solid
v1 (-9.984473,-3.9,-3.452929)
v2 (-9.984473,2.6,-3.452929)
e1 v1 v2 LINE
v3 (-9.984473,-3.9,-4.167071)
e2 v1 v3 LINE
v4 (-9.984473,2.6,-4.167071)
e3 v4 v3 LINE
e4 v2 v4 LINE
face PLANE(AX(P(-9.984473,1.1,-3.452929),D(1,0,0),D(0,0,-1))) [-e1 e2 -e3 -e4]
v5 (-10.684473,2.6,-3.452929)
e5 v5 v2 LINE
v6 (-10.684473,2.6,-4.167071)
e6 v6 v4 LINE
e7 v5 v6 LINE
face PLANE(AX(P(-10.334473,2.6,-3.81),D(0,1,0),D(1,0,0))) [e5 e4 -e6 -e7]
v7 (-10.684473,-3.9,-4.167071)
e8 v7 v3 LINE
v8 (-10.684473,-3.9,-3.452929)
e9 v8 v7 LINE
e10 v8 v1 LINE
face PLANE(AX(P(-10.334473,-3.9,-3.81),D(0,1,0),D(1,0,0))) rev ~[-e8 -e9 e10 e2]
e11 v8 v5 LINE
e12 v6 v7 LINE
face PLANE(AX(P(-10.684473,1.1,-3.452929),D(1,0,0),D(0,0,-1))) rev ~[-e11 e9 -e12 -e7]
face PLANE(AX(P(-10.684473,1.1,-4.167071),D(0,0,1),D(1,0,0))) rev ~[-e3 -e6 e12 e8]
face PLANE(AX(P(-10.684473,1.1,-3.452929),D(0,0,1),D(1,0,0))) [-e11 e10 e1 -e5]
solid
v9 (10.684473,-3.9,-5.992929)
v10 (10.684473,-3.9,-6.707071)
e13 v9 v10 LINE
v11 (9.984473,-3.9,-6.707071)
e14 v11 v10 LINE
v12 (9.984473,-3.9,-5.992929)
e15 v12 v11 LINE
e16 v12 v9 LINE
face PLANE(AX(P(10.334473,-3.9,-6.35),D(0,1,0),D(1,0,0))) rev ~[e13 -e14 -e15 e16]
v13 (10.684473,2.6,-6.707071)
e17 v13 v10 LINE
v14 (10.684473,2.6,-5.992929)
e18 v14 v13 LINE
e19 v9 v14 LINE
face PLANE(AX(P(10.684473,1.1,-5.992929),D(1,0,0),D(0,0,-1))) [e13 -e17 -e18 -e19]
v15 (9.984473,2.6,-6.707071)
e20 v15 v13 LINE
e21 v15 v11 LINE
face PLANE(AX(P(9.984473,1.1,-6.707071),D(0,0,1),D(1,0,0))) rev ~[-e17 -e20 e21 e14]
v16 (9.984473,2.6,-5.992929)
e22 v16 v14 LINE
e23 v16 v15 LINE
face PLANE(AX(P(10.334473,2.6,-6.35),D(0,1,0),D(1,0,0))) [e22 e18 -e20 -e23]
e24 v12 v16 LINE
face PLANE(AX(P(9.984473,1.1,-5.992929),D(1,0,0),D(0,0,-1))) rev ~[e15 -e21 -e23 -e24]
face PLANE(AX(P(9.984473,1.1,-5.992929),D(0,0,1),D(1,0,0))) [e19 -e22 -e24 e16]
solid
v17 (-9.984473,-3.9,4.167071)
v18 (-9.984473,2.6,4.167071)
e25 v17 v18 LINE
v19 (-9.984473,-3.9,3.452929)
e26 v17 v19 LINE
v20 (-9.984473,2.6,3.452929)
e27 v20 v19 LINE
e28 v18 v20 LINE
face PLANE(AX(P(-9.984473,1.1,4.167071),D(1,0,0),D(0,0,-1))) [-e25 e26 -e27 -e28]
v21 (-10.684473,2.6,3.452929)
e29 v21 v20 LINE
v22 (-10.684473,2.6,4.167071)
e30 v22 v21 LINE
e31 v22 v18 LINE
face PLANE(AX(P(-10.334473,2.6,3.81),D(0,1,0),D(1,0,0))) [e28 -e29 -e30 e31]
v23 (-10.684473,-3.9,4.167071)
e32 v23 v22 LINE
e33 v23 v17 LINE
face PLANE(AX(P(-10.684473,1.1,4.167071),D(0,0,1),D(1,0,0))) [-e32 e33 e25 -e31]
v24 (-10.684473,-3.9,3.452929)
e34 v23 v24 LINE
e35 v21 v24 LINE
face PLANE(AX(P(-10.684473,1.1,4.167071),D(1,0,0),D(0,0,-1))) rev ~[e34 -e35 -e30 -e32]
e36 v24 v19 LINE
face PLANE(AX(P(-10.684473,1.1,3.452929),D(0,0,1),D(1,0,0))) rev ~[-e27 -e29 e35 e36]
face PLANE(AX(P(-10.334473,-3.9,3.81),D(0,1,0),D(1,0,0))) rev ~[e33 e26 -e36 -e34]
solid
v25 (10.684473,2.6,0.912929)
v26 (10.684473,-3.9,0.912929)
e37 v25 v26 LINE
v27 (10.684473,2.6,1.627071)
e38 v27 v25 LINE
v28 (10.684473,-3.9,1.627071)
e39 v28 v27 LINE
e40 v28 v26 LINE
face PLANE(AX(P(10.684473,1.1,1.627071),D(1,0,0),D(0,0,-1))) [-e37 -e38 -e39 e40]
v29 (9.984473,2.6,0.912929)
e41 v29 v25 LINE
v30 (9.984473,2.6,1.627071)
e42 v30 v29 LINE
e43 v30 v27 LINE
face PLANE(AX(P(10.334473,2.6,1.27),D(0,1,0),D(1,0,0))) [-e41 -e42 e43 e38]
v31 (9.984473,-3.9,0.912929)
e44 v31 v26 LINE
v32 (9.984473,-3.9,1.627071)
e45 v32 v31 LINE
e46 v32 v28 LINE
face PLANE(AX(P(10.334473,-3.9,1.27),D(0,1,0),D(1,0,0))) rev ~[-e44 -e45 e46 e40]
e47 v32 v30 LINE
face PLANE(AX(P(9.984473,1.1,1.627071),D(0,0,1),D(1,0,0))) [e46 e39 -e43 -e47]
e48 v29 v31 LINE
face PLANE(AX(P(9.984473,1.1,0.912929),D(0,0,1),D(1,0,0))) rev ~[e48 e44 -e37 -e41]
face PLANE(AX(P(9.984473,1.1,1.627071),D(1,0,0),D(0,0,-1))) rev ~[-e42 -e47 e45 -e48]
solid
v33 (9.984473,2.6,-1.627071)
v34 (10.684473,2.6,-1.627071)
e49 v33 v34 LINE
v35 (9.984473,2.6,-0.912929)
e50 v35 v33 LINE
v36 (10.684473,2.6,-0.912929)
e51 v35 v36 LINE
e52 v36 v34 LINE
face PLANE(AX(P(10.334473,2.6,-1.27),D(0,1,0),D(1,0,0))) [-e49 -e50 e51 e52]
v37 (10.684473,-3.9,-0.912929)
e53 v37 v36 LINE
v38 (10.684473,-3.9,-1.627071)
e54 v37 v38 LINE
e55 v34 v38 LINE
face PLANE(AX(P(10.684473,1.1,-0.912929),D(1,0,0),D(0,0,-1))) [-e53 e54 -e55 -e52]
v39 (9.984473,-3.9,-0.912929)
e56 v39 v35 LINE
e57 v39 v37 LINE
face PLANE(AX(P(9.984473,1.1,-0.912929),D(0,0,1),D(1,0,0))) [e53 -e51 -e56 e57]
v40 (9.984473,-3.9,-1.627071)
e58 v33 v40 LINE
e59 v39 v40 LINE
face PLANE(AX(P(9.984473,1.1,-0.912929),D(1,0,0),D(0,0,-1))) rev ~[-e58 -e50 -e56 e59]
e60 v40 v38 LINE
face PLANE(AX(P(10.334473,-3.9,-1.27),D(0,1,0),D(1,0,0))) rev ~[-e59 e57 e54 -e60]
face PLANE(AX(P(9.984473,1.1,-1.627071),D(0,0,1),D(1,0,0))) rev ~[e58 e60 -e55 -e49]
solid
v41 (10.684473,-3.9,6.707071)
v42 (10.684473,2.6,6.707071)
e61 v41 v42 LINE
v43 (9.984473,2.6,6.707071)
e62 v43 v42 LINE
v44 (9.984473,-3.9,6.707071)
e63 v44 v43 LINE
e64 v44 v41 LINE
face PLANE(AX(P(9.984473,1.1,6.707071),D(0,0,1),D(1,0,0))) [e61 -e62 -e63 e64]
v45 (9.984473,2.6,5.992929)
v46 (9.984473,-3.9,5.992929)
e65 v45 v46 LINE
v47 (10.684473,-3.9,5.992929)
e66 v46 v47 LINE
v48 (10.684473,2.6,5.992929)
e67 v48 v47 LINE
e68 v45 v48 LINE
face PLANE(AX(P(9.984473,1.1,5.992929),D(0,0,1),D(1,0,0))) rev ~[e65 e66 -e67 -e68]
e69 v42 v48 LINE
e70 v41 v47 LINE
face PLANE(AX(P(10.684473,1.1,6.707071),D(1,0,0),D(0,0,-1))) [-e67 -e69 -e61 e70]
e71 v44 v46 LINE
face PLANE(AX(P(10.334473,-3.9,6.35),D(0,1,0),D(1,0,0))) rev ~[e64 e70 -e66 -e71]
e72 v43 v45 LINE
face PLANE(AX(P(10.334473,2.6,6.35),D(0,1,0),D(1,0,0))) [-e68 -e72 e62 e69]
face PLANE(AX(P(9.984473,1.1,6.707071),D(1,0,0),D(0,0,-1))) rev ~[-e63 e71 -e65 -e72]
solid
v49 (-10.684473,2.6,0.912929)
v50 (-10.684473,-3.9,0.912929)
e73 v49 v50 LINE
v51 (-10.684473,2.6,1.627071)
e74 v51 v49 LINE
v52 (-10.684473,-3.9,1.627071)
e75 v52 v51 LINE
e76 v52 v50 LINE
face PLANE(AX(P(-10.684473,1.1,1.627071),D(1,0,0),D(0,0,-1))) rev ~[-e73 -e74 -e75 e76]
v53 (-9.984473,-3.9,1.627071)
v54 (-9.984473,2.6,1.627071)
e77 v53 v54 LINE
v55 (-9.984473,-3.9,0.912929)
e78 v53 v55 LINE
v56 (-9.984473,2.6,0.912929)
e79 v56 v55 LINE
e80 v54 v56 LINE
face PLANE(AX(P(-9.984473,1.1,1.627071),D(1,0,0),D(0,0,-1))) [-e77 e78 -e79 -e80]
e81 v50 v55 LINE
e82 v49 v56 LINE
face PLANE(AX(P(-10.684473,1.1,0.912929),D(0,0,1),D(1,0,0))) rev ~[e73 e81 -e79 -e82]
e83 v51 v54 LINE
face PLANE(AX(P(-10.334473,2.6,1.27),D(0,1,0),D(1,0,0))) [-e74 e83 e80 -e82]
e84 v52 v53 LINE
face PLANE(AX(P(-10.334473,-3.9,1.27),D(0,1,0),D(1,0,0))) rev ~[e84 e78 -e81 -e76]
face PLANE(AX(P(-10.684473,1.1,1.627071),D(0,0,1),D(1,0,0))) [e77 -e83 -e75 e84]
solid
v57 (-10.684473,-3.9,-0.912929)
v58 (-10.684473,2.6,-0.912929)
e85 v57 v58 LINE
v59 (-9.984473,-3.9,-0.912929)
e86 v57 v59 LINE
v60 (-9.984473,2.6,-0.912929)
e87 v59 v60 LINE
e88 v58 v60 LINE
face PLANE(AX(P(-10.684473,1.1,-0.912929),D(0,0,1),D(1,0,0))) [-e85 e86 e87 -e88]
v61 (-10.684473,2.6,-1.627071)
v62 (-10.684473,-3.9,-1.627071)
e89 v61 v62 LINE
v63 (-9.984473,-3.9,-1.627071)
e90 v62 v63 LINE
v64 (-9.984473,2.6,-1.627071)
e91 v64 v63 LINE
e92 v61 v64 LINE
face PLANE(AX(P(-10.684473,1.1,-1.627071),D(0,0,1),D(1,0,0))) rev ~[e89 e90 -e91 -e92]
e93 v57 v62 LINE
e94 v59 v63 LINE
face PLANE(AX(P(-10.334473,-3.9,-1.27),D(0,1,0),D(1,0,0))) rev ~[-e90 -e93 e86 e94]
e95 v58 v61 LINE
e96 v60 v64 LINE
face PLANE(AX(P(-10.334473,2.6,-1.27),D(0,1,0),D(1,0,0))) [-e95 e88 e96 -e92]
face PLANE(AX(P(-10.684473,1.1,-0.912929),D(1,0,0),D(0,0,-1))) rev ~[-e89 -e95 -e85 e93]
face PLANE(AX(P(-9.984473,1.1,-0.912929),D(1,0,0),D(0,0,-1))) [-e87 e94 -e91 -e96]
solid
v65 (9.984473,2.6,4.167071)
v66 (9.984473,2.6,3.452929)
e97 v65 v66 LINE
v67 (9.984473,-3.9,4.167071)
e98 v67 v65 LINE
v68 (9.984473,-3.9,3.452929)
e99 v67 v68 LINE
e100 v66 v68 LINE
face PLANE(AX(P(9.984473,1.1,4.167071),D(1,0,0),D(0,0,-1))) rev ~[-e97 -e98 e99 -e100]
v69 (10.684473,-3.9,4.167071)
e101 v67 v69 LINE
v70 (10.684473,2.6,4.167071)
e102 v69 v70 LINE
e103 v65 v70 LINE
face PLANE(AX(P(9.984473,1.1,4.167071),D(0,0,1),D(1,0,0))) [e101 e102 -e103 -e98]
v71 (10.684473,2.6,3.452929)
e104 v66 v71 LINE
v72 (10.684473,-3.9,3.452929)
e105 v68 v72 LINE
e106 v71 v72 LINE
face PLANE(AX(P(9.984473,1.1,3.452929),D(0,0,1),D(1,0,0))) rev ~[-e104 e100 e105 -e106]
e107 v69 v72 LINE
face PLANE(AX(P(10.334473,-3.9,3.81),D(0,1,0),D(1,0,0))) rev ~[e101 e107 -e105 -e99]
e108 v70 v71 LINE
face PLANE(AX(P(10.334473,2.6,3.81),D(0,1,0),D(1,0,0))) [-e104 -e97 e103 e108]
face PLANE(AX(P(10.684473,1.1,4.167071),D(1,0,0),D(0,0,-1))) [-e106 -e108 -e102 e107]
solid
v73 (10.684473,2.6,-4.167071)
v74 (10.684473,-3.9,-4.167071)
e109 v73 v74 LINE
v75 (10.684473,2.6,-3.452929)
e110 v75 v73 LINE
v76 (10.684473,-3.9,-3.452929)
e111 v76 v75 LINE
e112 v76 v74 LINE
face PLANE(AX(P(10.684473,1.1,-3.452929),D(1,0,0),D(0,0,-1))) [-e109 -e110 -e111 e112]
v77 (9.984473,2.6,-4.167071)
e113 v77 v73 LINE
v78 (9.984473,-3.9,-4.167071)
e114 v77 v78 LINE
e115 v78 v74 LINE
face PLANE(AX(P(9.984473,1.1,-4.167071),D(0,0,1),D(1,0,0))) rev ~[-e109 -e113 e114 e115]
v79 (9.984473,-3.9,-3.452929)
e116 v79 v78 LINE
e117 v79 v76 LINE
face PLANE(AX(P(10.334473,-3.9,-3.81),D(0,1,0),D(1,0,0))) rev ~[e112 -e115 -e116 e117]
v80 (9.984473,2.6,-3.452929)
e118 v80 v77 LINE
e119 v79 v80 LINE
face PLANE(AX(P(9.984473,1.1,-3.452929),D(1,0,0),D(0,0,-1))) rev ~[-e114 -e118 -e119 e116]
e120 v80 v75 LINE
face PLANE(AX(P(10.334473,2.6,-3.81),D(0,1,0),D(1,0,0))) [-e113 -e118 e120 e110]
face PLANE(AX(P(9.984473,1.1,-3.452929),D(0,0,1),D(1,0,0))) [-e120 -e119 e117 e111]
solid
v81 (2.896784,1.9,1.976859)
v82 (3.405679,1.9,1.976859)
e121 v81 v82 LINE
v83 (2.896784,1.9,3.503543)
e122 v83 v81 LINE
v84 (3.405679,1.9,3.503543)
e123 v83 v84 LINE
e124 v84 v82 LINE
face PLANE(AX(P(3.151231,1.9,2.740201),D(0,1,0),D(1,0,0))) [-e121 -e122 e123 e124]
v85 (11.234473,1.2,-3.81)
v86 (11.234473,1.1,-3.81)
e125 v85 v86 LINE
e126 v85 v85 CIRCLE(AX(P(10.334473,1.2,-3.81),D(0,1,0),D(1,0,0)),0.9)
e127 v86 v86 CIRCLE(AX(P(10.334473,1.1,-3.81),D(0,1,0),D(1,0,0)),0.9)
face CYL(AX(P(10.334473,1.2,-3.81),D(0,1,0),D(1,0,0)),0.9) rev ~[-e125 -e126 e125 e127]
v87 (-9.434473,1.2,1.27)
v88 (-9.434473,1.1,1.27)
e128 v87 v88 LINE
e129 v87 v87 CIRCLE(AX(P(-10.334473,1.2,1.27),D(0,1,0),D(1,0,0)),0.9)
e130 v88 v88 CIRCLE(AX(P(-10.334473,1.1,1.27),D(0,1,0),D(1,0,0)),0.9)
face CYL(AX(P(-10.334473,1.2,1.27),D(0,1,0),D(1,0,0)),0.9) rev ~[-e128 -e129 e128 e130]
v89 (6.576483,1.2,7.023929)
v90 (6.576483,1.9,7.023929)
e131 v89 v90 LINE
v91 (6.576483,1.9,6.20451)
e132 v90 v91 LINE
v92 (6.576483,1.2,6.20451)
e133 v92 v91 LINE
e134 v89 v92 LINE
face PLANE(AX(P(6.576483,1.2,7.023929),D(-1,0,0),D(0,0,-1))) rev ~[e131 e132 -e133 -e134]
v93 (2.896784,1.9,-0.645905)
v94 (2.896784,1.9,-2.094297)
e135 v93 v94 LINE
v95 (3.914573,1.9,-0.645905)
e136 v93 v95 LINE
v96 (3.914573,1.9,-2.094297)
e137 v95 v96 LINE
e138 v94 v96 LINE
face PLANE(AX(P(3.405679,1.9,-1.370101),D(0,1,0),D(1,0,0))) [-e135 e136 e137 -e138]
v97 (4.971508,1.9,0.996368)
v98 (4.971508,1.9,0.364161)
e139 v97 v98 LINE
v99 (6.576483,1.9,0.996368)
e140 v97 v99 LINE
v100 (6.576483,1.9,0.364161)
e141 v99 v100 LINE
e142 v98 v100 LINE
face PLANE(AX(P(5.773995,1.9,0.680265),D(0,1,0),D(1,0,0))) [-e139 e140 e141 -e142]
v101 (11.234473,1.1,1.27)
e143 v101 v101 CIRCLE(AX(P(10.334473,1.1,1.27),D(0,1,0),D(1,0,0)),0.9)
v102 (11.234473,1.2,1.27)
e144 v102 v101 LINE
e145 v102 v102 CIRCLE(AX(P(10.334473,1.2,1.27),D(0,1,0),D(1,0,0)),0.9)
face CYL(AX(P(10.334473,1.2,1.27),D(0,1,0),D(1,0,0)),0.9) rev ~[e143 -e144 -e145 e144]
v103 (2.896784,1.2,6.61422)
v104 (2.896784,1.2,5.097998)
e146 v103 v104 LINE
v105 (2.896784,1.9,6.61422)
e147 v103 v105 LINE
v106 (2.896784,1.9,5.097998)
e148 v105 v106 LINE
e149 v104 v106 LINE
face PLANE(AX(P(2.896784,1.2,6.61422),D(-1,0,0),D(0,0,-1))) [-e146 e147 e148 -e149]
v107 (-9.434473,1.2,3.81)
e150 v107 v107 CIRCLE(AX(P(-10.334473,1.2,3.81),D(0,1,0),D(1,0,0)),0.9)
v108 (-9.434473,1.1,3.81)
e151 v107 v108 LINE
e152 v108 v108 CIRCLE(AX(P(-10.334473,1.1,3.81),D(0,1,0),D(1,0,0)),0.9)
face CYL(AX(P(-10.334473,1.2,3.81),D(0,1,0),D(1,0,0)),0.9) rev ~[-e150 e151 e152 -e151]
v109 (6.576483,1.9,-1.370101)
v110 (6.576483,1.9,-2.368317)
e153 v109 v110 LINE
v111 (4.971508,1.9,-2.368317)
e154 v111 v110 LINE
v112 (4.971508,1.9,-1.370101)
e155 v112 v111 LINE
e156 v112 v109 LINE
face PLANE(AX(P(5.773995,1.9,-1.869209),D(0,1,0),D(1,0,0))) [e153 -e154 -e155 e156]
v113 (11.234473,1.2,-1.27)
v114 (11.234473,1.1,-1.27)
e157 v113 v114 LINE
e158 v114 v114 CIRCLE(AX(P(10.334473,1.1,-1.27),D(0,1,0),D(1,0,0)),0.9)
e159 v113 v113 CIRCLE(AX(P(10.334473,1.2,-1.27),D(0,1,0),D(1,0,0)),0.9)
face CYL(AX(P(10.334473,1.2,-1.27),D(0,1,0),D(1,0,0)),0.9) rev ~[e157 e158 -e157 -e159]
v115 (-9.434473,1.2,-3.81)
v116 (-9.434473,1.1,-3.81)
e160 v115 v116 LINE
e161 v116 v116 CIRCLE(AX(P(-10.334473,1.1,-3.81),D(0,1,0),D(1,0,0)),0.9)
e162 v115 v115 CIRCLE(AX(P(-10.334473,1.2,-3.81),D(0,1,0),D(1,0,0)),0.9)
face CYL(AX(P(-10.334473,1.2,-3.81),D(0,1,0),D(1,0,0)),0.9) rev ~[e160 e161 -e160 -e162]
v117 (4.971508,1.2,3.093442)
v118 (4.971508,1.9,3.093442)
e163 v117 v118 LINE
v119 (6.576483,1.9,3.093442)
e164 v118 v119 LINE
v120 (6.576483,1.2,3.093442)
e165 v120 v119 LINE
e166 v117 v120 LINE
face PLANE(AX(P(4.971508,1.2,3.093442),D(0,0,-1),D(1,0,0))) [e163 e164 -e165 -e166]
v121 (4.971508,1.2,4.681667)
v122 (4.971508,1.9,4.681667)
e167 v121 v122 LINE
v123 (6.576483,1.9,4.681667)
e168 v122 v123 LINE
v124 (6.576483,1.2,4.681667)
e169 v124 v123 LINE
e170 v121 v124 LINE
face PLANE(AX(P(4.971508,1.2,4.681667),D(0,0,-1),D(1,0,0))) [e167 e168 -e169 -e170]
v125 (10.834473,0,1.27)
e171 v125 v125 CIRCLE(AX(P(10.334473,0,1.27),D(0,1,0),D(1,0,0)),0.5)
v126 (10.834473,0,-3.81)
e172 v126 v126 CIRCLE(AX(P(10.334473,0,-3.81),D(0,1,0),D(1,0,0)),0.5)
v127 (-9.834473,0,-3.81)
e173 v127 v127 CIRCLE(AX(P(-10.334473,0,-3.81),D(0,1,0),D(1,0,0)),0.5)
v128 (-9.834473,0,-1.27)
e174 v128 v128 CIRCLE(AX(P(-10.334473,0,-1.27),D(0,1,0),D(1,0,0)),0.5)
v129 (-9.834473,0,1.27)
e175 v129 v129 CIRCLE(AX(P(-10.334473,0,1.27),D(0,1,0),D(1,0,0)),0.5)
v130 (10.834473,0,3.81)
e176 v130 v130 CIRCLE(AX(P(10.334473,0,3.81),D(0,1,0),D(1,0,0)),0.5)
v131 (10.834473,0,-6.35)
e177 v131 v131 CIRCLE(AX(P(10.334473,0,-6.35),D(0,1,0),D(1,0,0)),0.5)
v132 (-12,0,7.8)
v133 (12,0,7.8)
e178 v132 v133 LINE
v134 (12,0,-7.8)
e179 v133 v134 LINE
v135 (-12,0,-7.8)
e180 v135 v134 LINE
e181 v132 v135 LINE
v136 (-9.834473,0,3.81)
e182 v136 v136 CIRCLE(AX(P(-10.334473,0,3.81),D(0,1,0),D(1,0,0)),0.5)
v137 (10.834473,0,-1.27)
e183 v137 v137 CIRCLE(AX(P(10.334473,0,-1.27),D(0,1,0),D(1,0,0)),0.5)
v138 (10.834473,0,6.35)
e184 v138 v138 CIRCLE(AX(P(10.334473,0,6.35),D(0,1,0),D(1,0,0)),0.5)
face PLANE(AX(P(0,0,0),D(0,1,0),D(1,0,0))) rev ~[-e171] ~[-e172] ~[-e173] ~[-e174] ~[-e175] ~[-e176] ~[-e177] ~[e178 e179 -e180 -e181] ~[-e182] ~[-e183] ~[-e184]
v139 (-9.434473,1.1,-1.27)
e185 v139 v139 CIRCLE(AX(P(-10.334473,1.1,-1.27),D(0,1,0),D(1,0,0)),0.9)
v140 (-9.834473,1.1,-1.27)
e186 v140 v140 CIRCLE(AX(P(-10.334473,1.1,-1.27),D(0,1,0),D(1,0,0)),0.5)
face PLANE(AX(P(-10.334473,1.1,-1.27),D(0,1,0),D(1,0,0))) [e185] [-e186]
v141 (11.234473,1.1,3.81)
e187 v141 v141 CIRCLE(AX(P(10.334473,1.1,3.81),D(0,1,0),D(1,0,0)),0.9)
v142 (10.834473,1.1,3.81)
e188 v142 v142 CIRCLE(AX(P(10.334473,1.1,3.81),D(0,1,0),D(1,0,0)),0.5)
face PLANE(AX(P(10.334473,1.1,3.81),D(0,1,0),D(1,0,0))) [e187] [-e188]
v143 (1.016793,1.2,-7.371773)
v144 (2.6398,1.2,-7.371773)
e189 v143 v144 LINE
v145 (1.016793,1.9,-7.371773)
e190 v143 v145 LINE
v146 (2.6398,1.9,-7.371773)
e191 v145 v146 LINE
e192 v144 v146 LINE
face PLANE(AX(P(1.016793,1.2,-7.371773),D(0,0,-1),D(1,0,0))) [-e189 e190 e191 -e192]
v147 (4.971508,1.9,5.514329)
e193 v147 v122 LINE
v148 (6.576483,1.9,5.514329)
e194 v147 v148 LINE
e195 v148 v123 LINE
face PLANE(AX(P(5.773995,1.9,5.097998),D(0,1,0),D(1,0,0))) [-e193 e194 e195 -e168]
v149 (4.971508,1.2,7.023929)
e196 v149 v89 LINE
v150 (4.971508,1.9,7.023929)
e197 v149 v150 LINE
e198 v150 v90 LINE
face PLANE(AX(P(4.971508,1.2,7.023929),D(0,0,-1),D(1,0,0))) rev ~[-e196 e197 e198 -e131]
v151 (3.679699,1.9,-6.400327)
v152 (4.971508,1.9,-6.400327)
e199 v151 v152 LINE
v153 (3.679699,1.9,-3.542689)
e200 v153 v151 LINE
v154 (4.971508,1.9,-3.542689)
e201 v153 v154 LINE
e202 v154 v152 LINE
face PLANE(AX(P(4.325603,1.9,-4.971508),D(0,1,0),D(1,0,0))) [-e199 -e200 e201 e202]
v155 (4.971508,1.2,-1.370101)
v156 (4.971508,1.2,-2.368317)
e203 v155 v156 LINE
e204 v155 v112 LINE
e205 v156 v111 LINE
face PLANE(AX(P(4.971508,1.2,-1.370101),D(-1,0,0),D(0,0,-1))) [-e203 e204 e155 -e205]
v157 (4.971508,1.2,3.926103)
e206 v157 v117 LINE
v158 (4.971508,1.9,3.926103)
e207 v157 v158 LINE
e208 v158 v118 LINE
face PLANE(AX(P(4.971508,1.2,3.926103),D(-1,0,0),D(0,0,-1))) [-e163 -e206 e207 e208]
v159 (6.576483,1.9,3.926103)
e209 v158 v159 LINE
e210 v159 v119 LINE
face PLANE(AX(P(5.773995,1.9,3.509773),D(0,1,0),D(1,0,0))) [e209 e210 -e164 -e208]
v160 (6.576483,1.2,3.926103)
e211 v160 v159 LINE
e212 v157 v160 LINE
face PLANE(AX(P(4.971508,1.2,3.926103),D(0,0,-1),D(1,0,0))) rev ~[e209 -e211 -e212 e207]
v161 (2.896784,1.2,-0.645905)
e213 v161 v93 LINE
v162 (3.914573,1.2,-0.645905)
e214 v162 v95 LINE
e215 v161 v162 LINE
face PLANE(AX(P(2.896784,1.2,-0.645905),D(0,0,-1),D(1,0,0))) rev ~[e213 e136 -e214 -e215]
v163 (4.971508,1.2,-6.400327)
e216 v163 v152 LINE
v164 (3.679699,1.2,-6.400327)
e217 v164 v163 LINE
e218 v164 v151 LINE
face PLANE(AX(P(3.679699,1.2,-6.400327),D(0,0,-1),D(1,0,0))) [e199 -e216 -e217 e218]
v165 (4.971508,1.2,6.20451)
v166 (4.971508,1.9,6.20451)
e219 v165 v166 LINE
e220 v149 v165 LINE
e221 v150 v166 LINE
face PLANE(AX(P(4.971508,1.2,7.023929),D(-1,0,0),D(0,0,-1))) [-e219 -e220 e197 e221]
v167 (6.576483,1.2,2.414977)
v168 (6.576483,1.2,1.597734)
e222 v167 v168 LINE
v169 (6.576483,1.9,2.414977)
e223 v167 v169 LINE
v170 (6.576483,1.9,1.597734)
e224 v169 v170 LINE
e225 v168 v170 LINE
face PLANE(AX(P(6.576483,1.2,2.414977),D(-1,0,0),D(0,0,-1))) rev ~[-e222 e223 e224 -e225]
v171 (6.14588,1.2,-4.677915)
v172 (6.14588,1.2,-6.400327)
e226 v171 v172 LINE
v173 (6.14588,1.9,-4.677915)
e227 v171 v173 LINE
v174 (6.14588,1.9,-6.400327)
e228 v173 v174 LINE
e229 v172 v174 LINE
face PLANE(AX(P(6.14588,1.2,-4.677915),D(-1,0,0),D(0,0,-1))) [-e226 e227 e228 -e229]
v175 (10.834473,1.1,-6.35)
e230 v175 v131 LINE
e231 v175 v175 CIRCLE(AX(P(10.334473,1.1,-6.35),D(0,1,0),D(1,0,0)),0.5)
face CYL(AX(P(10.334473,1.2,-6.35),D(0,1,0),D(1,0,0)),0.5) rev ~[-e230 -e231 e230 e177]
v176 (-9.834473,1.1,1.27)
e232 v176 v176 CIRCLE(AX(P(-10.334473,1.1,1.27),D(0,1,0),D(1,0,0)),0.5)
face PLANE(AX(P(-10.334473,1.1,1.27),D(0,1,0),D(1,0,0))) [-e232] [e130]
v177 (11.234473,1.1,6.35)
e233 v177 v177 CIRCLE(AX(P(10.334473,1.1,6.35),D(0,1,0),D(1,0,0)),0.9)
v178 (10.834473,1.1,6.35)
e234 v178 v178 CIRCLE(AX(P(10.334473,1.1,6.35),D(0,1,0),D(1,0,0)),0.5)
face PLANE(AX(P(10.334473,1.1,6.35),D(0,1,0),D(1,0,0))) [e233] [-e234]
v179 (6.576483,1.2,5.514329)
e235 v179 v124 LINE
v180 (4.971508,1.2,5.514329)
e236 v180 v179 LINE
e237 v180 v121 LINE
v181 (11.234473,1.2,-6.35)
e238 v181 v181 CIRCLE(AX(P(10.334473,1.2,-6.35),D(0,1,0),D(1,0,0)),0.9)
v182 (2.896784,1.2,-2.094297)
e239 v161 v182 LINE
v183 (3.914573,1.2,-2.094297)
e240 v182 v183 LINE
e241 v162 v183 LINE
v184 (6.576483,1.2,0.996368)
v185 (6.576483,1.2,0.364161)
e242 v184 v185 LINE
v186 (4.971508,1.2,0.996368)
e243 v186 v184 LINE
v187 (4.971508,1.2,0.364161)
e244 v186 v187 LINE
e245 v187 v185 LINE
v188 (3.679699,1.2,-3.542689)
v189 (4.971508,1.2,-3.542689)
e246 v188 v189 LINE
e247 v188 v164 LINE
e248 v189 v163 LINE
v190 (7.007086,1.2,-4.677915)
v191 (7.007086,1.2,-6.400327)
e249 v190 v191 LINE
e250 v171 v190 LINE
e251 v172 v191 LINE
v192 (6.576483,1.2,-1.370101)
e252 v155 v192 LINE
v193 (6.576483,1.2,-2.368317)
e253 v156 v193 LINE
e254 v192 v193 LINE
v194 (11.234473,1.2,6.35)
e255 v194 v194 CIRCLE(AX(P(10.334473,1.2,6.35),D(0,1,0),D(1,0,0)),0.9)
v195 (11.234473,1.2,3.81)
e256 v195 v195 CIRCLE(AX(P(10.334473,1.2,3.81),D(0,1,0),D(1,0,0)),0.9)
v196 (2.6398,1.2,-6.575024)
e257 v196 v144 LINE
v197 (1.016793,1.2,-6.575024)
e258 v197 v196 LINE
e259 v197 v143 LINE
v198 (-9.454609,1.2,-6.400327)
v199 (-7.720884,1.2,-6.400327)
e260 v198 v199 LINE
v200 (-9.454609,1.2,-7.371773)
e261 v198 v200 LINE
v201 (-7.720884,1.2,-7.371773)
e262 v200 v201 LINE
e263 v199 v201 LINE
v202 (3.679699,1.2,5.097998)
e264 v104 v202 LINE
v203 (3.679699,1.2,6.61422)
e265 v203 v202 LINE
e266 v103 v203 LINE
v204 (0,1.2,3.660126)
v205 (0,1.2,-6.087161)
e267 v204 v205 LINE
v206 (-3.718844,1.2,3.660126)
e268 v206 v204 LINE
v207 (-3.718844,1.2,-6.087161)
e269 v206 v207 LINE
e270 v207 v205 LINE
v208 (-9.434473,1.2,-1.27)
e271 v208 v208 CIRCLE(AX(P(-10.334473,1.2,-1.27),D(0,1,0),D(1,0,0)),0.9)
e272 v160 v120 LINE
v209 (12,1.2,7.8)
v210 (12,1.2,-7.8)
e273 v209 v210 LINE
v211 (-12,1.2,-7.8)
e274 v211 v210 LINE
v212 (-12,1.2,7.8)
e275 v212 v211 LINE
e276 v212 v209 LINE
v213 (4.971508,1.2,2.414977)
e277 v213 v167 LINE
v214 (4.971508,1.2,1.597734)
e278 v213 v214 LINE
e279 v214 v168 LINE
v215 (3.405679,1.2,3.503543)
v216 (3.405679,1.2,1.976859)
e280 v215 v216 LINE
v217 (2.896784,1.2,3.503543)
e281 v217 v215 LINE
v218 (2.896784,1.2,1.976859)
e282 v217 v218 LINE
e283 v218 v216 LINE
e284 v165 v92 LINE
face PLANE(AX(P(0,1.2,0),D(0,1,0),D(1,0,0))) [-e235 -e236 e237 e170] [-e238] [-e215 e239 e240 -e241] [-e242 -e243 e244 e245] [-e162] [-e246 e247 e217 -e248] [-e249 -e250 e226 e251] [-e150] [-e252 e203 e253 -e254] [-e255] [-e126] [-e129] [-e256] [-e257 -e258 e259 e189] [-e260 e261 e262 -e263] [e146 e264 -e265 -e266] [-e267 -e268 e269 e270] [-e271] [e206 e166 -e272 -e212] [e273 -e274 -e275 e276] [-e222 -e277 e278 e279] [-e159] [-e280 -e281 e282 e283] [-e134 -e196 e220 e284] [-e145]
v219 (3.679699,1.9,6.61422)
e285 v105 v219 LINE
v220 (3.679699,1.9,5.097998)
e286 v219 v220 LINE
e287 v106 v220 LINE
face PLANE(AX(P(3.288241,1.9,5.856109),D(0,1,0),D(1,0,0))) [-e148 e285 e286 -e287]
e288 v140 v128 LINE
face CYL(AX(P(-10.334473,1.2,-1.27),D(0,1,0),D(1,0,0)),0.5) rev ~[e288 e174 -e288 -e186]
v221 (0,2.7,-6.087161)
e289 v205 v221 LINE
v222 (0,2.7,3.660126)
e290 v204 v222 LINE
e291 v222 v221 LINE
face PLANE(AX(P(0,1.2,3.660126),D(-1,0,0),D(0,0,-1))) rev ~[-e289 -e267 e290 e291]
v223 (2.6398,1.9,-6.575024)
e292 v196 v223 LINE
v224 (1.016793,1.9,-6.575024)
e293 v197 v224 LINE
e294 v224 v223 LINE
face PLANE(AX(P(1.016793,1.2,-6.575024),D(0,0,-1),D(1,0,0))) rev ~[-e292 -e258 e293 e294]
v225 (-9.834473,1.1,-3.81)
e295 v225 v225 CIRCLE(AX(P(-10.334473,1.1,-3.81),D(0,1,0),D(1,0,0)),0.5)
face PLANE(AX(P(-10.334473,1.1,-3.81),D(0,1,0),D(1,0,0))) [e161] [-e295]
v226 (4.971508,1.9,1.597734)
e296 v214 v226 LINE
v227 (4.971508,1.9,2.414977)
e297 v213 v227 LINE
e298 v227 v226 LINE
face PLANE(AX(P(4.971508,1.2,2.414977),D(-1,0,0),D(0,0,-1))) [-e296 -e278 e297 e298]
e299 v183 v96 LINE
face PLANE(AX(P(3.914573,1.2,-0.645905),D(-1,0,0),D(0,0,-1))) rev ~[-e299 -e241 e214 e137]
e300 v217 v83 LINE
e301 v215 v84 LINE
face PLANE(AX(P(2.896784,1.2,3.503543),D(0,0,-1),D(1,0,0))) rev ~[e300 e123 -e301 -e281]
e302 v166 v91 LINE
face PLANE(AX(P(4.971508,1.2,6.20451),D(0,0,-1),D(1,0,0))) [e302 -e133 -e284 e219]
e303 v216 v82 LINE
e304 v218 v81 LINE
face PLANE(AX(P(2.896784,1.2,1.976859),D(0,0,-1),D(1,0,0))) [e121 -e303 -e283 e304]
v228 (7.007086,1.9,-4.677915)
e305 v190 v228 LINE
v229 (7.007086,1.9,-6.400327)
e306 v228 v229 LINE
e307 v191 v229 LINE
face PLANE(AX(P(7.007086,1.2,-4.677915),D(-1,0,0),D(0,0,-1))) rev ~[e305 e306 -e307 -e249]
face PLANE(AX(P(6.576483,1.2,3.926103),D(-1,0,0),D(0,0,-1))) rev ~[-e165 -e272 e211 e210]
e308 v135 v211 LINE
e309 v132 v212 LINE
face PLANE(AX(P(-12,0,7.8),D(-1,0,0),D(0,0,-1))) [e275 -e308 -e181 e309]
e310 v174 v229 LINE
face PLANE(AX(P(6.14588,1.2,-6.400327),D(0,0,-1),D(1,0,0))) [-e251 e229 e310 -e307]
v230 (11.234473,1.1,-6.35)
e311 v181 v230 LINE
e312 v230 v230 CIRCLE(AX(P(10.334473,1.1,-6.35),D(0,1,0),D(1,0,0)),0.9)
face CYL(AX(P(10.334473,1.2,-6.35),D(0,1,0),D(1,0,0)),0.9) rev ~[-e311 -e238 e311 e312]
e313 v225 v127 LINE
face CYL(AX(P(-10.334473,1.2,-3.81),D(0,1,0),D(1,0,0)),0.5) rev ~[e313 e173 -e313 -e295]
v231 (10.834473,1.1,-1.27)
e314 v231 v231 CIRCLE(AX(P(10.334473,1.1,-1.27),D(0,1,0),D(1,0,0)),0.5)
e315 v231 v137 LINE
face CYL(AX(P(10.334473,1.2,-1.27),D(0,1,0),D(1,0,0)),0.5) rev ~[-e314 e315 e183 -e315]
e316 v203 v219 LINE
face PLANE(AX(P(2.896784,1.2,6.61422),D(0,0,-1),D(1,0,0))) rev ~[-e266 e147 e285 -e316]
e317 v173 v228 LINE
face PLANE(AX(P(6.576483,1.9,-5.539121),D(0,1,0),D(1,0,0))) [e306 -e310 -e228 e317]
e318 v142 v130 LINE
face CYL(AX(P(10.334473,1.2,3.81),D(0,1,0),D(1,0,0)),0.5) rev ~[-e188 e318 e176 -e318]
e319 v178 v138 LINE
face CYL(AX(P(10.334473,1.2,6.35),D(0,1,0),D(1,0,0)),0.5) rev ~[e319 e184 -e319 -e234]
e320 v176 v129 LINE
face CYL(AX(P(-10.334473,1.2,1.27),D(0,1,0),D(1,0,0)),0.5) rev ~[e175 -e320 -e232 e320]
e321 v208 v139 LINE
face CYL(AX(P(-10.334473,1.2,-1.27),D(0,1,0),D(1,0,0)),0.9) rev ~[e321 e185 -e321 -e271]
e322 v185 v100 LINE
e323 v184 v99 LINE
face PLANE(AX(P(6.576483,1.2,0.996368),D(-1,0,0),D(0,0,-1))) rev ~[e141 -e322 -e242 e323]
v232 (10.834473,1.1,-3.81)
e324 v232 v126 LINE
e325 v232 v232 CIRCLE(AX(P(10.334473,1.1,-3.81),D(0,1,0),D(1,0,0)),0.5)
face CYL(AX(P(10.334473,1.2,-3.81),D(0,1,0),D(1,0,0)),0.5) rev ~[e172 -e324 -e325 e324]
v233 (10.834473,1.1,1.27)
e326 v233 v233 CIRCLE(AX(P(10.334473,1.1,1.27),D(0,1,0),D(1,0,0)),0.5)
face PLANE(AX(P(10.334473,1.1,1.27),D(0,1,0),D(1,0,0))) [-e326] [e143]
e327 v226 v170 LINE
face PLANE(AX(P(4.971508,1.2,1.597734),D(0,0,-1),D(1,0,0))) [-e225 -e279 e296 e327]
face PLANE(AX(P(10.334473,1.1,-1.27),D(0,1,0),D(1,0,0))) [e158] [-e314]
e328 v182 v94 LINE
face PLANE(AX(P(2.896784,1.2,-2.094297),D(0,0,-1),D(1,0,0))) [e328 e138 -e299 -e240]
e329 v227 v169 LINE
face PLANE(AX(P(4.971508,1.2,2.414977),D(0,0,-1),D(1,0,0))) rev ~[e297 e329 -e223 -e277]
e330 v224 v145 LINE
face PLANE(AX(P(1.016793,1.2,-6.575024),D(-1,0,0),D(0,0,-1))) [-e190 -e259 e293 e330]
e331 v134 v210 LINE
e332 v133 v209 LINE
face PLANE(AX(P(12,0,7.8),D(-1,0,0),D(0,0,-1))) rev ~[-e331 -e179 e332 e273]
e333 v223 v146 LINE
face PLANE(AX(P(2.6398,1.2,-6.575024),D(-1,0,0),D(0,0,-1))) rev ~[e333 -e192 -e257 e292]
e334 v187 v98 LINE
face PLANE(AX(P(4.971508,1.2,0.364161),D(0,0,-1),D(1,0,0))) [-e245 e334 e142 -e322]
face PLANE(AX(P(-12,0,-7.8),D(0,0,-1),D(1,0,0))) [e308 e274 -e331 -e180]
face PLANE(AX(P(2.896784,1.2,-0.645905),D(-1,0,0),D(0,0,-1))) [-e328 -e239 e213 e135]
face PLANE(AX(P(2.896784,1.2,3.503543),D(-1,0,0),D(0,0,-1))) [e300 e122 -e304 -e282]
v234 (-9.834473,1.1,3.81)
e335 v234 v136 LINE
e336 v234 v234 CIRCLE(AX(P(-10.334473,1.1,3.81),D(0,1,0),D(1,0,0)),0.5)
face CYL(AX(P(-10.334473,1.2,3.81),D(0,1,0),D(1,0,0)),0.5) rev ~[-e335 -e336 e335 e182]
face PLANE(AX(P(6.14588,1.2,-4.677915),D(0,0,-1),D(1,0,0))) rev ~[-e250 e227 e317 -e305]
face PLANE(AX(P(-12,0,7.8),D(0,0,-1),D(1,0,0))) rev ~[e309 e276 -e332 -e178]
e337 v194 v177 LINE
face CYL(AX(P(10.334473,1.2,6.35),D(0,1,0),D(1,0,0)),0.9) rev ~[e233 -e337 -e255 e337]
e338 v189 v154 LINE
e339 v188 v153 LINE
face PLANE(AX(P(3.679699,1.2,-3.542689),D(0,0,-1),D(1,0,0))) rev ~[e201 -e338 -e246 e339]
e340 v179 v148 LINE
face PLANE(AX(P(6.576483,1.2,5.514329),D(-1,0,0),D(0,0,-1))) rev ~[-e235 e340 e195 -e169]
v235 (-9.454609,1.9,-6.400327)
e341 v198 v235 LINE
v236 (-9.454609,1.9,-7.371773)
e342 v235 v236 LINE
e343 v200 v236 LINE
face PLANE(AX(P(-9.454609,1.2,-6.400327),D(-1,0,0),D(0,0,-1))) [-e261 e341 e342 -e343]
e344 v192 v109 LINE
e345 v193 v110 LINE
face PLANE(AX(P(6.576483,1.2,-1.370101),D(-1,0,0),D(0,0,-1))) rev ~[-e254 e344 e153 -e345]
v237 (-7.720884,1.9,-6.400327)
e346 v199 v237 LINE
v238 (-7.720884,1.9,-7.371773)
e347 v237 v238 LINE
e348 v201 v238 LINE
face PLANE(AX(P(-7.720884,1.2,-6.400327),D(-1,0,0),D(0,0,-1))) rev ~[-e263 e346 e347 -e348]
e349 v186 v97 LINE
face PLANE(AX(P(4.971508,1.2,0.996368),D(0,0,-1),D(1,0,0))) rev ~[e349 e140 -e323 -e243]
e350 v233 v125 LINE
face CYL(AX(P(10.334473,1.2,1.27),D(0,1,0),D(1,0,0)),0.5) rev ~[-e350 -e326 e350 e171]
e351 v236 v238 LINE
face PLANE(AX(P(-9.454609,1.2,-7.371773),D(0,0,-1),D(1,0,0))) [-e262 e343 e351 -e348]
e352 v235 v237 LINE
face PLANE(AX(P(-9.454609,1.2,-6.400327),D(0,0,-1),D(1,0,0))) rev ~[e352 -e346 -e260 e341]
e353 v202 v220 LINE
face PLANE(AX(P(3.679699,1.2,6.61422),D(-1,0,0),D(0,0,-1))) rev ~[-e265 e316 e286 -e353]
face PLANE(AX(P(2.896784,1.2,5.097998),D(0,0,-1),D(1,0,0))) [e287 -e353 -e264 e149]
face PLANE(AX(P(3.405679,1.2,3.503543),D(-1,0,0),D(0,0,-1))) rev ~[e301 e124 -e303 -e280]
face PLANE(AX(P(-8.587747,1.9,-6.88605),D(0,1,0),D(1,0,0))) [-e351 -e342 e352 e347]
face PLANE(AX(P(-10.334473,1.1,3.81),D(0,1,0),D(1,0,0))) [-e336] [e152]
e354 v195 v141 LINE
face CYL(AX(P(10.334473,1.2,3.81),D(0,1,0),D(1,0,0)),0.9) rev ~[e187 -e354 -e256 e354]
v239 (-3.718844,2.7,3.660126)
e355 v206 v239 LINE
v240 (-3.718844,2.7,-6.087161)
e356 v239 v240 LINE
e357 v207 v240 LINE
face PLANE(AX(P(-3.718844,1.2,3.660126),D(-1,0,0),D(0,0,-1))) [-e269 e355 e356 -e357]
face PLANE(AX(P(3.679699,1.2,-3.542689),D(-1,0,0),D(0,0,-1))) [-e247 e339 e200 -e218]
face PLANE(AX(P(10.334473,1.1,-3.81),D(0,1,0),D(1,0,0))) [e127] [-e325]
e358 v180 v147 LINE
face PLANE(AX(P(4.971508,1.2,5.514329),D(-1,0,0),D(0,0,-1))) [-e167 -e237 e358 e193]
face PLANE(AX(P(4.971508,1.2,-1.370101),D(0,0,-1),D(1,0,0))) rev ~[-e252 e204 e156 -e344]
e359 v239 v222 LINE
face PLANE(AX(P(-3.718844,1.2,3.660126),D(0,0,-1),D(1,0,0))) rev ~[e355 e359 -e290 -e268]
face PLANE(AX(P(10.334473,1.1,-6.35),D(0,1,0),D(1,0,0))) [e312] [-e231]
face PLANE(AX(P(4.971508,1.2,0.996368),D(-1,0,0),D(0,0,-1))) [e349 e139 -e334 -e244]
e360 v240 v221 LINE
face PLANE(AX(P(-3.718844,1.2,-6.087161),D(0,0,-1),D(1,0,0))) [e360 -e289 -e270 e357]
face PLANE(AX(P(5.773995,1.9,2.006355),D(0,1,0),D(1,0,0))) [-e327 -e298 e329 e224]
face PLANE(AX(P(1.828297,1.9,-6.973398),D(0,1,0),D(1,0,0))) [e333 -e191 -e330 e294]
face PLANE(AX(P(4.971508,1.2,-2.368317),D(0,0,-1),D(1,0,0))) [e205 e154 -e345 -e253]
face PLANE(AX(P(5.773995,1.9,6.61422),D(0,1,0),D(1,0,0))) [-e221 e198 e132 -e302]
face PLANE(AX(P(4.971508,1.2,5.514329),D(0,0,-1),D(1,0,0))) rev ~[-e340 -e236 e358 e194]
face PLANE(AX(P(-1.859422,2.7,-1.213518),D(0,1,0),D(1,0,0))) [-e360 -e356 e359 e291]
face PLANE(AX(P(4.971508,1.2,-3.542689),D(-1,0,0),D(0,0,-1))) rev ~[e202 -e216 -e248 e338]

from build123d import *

# Parameters (mm, degrees)
SKETCH1_W                   = 24
SKETCH1_H                   = 15.6
BOSS_EXTRUDE1_DEPTH         = 1.2
SKETCH3_W                   = 3.718844476
SKETCH3_H                   = 9.7472871
BOSS_EXTRUDE2_DEPTH         = 1.5
SKETCH4_W                   = 1.291809133
SKETCH4_H                   = 2.857638387
SKETCH4_W_2                 = 0.861206089
SKETCH4_H_2                 = 1.722412179
SKETCH4_W_3                 = 1.017789015
SKETCH4_H_3                 = 1.448392059
SKETCH4_W_4                 = 1.604974985
SKETCH4_H_4                 = 0.998216149
SKETCH4_W_5                 = 0.508894507
SKETCH4_H_5                 = 1.526683522
SKETCH4_H_6                 = 0.632206169
SKETCH4_H_7                 = 0.817242122
SKETCH4_H_8                 = 0.832661784
SKETCH4_H_9                 = 0.819418919
SKETCH4_W_6                 = 0.782914627
SKETCH4_H_10                = 1.516221838
SKETCH4_W_7                 = 1.623006581
SKETCH4_H_11                = 0.796748686
SKETCH4_W_8                 = 1.733725138
SKETCH4_H_12                = 0.971445752
BOSS_EXTRUDE3_DEPTH         = 0.7
SKETCH5_R                   = 0.5
CUT_EXTRUDE1_DEPTH          = 2.2
SKETCH6_R                   = 0.9
CUT_EXTRUDE2_DEPTH          = 0.1
SKETCH7_R                   = 0.9
CUT_EXTRUDE3_DEPTH          = 0.1
SKETCH8_W                   = 0.7
SKETCH8_H                   = 0.714142842
BOSS_EXTRUDE5_DEPTH         = 1.5
BOSS_EXTRUDE5_DEPTH_BACK    = 5
BOSS_EXTRUDE5_2_DEPTH       = 1.5
BOSS_EXTRUDE5_2_DEPTH_BACK  = 5
BOSS_EXTRUDE5_3_DEPTH       = 1.5
BOSS_EXTRUDE5_3_DEPTH_BACK  = 5
BOSS_EXTRUDE5_4_DEPTH       = 1.5
BOSS_EXTRUDE5_4_DEPTH_BACK  = 5
BOSS_EXTRUDE5_5_DEPTH       = 1.5
BOSS_EXTRUDE5_5_DEPTH_BACK  = 5
BOSS_EXTRUDE5_6_DEPTH       = 1.5
BOSS_EXTRUDE5_6_DEPTH_BACK  = 5
BOSS_EXTRUDE5_7_DEPTH       = 1.5
BOSS_EXTRUDE5_7_DEPTH_BACK  = 5
BOSS_EXTRUDE5_8_DEPTH       = 1.5
BOSS_EXTRUDE5_8_DEPTH_BACK  = 5
BOSS_EXTRUDE5_9_DEPTH       = 1.5
BOSS_EXTRUDE5_9_DEPTH_BACK  = 5
BOSS_EXTRUDE5_10_DEPTH      = 1.5
BOSS_EXTRUDE5_10_DEPTH_BACK = 5


with BuildPart() as part:
    # Sketch1 → Boss-Extrude1 (new body)
    with BuildSketch(Plane(origin=(0, 0, 0), x_dir=(1, 0, 0), z_dir=(0, 1, 0))):
        Rectangle(SKETCH1_W, SKETCH1_H)
    extrude(amount=BOSS_EXTRUDE1_DEPTH)

    # Sketch3 → Boss-Extrude2 (add)
    with BuildSketch(Plane(origin=(0, 1.2, 0), x_dir=(1, 0, 0), z_dir=(0, 1, 0))):
        with Locations((-1.859422238, 1.213517671)):
            Rectangle(SKETCH3_W, SKETCH3_H)
    extrude(amount=BOSS_EXTRUDE2_DEPTH)

    # Sketch4 → Boss-Extrude3 (add)
    with BuildSketch(Plane(origin=(0, 1.2, 0), x_dir=(1, 0, 0), z_dir=(0, 1, 0))):
        with Locations((4.325603312, 4.971507879)):
            Rectangle(SKETCH4_W, SKETCH4_H)
        with Locations((6.576482863, 5.539120983)):
            Rectangle(SKETCH4_W_2, SKETCH4_H_2)
        with Locations((3.405678626, 1.370100597)):
            Rectangle(SKETCH4_W_3, SKETCH4_H_3)
        with Locations((5.773995371, 1.86920867)):
            Rectangle(SKETCH4_W_4, SKETCH4_H_4)
        with Locations((3.151231372, -2.740201193)):
            Rectangle(SKETCH4_W_5, SKETCH4_H_5)
        with Locations((5.773995371, -0.680264503)):
            Rectangle(SKETCH4_W_4, SKETCH4_H_6)
        with Locations((5.773995371, -2.006355492)):
            Rectangle(SKETCH4_W_4, SKETCH4_H_7)
        with Locations((5.773995371, -3.509772602)):
            Rectangle(SKETCH4_W_4, SKETCH4_H_8)
        with Locations((5.773995371, -5.097997857)):
            Rectangle(SKETCH4_W_4, SKETCH4_H_8)
        with Locations((5.773995371, -6.614219696)):
            Rectangle(SKETCH4_W_4, SKETCH4_H_9)
        with Locations((3.288241432, -5.856108776)):
            Rectangle(SKETCH4_W_6, SKETCH4_H_10)
        with Locations((1.82829659, 6.973398481)):
            Rectangle(SKETCH4_W_7, SKETCH4_H_11)
        with Locations((-8.587746515, 6.886049948)):
            Rectangle(SKETCH4_W_8, SKETCH4_H_12)
    extrude(amount=BOSS_EXTRUDE3_DEPTH)

    # Sketch5 → Cut-Extrude1 (cut, through all)
    with BuildSketch(Plane(origin=(0, 1.2, 0), x_dir=(1, 0, 0), z_dir=(0, 1, 0))):
        with Locations((-10.33447307, 3.81)):
            Circle(SKETCH5_R)
        with Locations((-10.33447307, 1.27)):
            Circle(SKETCH5_R)
        with Locations((-10.33447307, -1.27)):
            Circle(SKETCH5_R)
        with Locations((-10.33447307, -3.81)):
            Circle(SKETCH5_R)
        with Locations((10.33447307, -3.81)):
            Circle(SKETCH5_R)
        with Locations((10.33447307, -1.27)):
            Circle(SKETCH5_R)
        with Locations((10.33447307, 1.27)):
            Circle(SKETCH5_R)
        with Locations((10.33447307, 3.81)):
            Circle(SKETCH5_R)
        with Locations((10.33447307, 6.35)):
            Circle(SKETCH5_R)
        with Locations((10.33447307, -6.35)):
            Circle(SKETCH5_R)
    extrude(amount=-CUT_EXTRUDE1_DEPTH, mode=Mode.SUBTRACT)

    # Sketch6 → Cut-Extrude2 (cut)
    with BuildSketch(Plane(origin=(0, 1.2, 0), x_dir=(1, 0, 0), z_dir=(0, 1, 0))):
        with Locations((-10.33447307, 3.81)):
            Circle(SKETCH6_R)
        with Locations((-10.33447307, 1.27)):
            Circle(SKETCH6_R)
        with Locations((-10.33447307, -1.27)):
            Circle(SKETCH6_R)
        with Locations((-10.33447307, -3.81)):
            Circle(SKETCH6_R)
    extrude(amount=-CUT_EXTRUDE2_DEPTH, mode=Mode.SUBTRACT)

    # Sketch7 → Cut-Extrude3 (cut)
    with BuildSketch(Plane(origin=(0, 1.2, 0), x_dir=(1, 0, 0), z_dir=(0, 1, 0))):
        with Locations((10.33447307, 6.35)):
            Circle(SKETCH7_R)
        with Locations((10.33447307, 3.81)):
            Circle(SKETCH7_R)
        with Locations((10.33447307, 1.27)):
            Circle(SKETCH7_R)
        with Locations((10.33447307, -1.27)):
            Circle(SKETCH7_R)
        with Locations((10.33447307, -3.81)):
            Circle(SKETCH7_R)
        with Locations((10.33447307, -6.35)):
            Circle(SKETCH7_R)
    extrude(amount=-CUT_EXTRUDE3_DEPTH, mode=Mode.SUBTRACT)


with BuildPart() as body_2:
    # Sketch8 → Boss-Extrude5 (new body, two sides)
    with BuildSketch(Plane(origin=(0, 1.1, 0), x_dir=(1, 0, 0), z_dir=(0, 1, 0))) as boss_extrude5_sk:
        with Locations((-10.33447307, 1.27)):
            Rectangle(SKETCH8_W, SKETCH8_H)
    extrude(amount=BOSS_EXTRUDE5_DEPTH)
    extrude(boss_extrude5_sk.sketch, amount=-BOSS_EXTRUDE5_DEPTH_BACK)


with BuildPart() as body_3:
    # Sketch8 → Boss-Extrude5 2 (new body, two sides)
    with BuildSketch(Plane(origin=(0, 1.1, 0), x_dir=(1, 0, 0), z_dir=(0, 1, 0))) as boss_extrude5_2_sk:
        with Locations((-10.33447307, 3.81)):
            Rectangle(SKETCH8_W, SKETCH8_H)
    extrude(amount=BOSS_EXTRUDE5_2_DEPTH)
    extrude(boss_extrude5_2_sk.sketch, amount=-BOSS_EXTRUDE5_2_DEPTH_BACK)


with BuildPart() as body_4:
    # Sketch8 → Boss-Extrude5 3 (new body, two sides)
    with BuildSketch(Plane(origin=(0, 1.1, 0), x_dir=(1, 0, 0), z_dir=(0, 1, 0))) as boss_extrude5_3_sk:
        with Locations((-10.33447307, -1.27)):
            Rectangle(SKETCH8_W, SKETCH8_H)
    extrude(amount=BOSS_EXTRUDE5_3_DEPTH)
    extrude(boss_extrude5_3_sk.sketch, amount=-BOSS_EXTRUDE5_3_DEPTH_BACK)


with BuildPart() as body_5:
    # Sketch8 → Boss-Extrude5 4 (new body, two sides)
    with BuildSketch(Plane(origin=(0, 1.1, 0), x_dir=(1, 0, 0), z_dir=(0, 1, 0))) as boss_extrude5_4_sk:
        with Locations((-10.33447307, -3.81)):
            Rectangle(SKETCH8_W, SKETCH8_H)
    extrude(amount=BOSS_EXTRUDE5_4_DEPTH)
    extrude(boss_extrude5_4_sk.sketch, amount=-BOSS_EXTRUDE5_4_DEPTH_BACK)


with BuildPart() as body_6:
    # Sketch8 → Boss-Extrude5 5 (new body, two sides)
    with BuildSketch(Plane(origin=(0, 1.1, 0), x_dir=(1, 0, 0), z_dir=(0, 1, 0))) as boss_extrude5_5_sk:
        with Locations((10.33447307, -3.81)):
            Rectangle(SKETCH8_W, SKETCH8_H)
    extrude(amount=BOSS_EXTRUDE5_5_DEPTH)
    extrude(boss_extrude5_5_sk.sketch, amount=-BOSS_EXTRUDE5_5_DEPTH_BACK)


with BuildPart() as body_7:
    # Sketch8 → Boss-Extrude5 6 (new body, two sides)
    with BuildSketch(Plane(origin=(0, 1.1, 0), x_dir=(1, 0, 0), z_dir=(0, 1, 0))) as boss_extrude5_6_sk:
        with Locations((10.33447307, -1.27)):
            Rectangle(SKETCH8_W, SKETCH8_H)
    extrude(amount=BOSS_EXTRUDE5_6_DEPTH)
    extrude(boss_extrude5_6_sk.sketch, amount=-BOSS_EXTRUDE5_6_DEPTH_BACK)


with BuildPart() as body_8:
    # Sketch8 → Boss-Extrude5 7 (new body, two sides)
    with BuildSketch(Plane(origin=(0, 1.1, 0), x_dir=(1, 0, 0), z_dir=(0, 1, 0))) as boss_extrude5_7_sk:
        with Locations((10.33447307, 1.27)):
            Rectangle(SKETCH8_W, SKETCH8_H)
    extrude(amount=BOSS_EXTRUDE5_7_DEPTH)
    extrude(boss_extrude5_7_sk.sketch, amount=-BOSS_EXTRUDE5_7_DEPTH_BACK)


with BuildPart() as body_9:
    # Sketch8 → Boss-Extrude5 8 (new body, two sides)
    with BuildSketch(Plane(origin=(0, 1.1, 0), x_dir=(1, 0, 0), z_dir=(0, 1, 0))) as boss_extrude5_8_sk:
        with Locations((10.33447307, 3.81)):
            Rectangle(SKETCH8_W, SKETCH8_H)
    extrude(amount=BOSS_EXTRUDE5_8_DEPTH)
    extrude(boss_extrude5_8_sk.sketch, amount=-BOSS_EXTRUDE5_8_DEPTH_BACK)


with BuildPart() as body_10:
    # Sketch8 → Boss-Extrude5 9 (new body, two sides)
    with BuildSketch(Plane(origin=(0, 1.1, 0), x_dir=(1, 0, 0), z_dir=(0, 1, 0))) as boss_extrude5_9_sk:
        with Locations((10.33447307, 6.35)):
            Rectangle(SKETCH8_W, SKETCH8_H)
    extrude(amount=BOSS_EXTRUDE5_9_DEPTH)
    extrude(boss_extrude5_9_sk.sketch, amount=-BOSS_EXTRUDE5_9_DEPTH_BACK)


with BuildPart() as body_11:
    # Sketch8 → Boss-Extrude5 10 (new body, two sides)
    with BuildSketch(Plane(origin=(0, 1.1, 0), x_dir=(1, 0, 0), z_dir=(0, 1, 0))) as boss_extrude5_10_sk:
        with Locations((10.33447307, -6.35)):
            Rectangle(SKETCH8_W, SKETCH8_H)
    extrude(amount=BOSS_EXTRUDE5_10_DEPTH)
    extrude(boss_extrude5_10_sk.sketch, amount=-BOSS_EXTRUDE5_10_DEPTH_BACK)


solid = Compound([part.part, body_2.part, body_3.part, body_4.part, body_5.part, body_6.part, body_7.part, body_8.part, body_9.part, body_10.part, body_11.part])
